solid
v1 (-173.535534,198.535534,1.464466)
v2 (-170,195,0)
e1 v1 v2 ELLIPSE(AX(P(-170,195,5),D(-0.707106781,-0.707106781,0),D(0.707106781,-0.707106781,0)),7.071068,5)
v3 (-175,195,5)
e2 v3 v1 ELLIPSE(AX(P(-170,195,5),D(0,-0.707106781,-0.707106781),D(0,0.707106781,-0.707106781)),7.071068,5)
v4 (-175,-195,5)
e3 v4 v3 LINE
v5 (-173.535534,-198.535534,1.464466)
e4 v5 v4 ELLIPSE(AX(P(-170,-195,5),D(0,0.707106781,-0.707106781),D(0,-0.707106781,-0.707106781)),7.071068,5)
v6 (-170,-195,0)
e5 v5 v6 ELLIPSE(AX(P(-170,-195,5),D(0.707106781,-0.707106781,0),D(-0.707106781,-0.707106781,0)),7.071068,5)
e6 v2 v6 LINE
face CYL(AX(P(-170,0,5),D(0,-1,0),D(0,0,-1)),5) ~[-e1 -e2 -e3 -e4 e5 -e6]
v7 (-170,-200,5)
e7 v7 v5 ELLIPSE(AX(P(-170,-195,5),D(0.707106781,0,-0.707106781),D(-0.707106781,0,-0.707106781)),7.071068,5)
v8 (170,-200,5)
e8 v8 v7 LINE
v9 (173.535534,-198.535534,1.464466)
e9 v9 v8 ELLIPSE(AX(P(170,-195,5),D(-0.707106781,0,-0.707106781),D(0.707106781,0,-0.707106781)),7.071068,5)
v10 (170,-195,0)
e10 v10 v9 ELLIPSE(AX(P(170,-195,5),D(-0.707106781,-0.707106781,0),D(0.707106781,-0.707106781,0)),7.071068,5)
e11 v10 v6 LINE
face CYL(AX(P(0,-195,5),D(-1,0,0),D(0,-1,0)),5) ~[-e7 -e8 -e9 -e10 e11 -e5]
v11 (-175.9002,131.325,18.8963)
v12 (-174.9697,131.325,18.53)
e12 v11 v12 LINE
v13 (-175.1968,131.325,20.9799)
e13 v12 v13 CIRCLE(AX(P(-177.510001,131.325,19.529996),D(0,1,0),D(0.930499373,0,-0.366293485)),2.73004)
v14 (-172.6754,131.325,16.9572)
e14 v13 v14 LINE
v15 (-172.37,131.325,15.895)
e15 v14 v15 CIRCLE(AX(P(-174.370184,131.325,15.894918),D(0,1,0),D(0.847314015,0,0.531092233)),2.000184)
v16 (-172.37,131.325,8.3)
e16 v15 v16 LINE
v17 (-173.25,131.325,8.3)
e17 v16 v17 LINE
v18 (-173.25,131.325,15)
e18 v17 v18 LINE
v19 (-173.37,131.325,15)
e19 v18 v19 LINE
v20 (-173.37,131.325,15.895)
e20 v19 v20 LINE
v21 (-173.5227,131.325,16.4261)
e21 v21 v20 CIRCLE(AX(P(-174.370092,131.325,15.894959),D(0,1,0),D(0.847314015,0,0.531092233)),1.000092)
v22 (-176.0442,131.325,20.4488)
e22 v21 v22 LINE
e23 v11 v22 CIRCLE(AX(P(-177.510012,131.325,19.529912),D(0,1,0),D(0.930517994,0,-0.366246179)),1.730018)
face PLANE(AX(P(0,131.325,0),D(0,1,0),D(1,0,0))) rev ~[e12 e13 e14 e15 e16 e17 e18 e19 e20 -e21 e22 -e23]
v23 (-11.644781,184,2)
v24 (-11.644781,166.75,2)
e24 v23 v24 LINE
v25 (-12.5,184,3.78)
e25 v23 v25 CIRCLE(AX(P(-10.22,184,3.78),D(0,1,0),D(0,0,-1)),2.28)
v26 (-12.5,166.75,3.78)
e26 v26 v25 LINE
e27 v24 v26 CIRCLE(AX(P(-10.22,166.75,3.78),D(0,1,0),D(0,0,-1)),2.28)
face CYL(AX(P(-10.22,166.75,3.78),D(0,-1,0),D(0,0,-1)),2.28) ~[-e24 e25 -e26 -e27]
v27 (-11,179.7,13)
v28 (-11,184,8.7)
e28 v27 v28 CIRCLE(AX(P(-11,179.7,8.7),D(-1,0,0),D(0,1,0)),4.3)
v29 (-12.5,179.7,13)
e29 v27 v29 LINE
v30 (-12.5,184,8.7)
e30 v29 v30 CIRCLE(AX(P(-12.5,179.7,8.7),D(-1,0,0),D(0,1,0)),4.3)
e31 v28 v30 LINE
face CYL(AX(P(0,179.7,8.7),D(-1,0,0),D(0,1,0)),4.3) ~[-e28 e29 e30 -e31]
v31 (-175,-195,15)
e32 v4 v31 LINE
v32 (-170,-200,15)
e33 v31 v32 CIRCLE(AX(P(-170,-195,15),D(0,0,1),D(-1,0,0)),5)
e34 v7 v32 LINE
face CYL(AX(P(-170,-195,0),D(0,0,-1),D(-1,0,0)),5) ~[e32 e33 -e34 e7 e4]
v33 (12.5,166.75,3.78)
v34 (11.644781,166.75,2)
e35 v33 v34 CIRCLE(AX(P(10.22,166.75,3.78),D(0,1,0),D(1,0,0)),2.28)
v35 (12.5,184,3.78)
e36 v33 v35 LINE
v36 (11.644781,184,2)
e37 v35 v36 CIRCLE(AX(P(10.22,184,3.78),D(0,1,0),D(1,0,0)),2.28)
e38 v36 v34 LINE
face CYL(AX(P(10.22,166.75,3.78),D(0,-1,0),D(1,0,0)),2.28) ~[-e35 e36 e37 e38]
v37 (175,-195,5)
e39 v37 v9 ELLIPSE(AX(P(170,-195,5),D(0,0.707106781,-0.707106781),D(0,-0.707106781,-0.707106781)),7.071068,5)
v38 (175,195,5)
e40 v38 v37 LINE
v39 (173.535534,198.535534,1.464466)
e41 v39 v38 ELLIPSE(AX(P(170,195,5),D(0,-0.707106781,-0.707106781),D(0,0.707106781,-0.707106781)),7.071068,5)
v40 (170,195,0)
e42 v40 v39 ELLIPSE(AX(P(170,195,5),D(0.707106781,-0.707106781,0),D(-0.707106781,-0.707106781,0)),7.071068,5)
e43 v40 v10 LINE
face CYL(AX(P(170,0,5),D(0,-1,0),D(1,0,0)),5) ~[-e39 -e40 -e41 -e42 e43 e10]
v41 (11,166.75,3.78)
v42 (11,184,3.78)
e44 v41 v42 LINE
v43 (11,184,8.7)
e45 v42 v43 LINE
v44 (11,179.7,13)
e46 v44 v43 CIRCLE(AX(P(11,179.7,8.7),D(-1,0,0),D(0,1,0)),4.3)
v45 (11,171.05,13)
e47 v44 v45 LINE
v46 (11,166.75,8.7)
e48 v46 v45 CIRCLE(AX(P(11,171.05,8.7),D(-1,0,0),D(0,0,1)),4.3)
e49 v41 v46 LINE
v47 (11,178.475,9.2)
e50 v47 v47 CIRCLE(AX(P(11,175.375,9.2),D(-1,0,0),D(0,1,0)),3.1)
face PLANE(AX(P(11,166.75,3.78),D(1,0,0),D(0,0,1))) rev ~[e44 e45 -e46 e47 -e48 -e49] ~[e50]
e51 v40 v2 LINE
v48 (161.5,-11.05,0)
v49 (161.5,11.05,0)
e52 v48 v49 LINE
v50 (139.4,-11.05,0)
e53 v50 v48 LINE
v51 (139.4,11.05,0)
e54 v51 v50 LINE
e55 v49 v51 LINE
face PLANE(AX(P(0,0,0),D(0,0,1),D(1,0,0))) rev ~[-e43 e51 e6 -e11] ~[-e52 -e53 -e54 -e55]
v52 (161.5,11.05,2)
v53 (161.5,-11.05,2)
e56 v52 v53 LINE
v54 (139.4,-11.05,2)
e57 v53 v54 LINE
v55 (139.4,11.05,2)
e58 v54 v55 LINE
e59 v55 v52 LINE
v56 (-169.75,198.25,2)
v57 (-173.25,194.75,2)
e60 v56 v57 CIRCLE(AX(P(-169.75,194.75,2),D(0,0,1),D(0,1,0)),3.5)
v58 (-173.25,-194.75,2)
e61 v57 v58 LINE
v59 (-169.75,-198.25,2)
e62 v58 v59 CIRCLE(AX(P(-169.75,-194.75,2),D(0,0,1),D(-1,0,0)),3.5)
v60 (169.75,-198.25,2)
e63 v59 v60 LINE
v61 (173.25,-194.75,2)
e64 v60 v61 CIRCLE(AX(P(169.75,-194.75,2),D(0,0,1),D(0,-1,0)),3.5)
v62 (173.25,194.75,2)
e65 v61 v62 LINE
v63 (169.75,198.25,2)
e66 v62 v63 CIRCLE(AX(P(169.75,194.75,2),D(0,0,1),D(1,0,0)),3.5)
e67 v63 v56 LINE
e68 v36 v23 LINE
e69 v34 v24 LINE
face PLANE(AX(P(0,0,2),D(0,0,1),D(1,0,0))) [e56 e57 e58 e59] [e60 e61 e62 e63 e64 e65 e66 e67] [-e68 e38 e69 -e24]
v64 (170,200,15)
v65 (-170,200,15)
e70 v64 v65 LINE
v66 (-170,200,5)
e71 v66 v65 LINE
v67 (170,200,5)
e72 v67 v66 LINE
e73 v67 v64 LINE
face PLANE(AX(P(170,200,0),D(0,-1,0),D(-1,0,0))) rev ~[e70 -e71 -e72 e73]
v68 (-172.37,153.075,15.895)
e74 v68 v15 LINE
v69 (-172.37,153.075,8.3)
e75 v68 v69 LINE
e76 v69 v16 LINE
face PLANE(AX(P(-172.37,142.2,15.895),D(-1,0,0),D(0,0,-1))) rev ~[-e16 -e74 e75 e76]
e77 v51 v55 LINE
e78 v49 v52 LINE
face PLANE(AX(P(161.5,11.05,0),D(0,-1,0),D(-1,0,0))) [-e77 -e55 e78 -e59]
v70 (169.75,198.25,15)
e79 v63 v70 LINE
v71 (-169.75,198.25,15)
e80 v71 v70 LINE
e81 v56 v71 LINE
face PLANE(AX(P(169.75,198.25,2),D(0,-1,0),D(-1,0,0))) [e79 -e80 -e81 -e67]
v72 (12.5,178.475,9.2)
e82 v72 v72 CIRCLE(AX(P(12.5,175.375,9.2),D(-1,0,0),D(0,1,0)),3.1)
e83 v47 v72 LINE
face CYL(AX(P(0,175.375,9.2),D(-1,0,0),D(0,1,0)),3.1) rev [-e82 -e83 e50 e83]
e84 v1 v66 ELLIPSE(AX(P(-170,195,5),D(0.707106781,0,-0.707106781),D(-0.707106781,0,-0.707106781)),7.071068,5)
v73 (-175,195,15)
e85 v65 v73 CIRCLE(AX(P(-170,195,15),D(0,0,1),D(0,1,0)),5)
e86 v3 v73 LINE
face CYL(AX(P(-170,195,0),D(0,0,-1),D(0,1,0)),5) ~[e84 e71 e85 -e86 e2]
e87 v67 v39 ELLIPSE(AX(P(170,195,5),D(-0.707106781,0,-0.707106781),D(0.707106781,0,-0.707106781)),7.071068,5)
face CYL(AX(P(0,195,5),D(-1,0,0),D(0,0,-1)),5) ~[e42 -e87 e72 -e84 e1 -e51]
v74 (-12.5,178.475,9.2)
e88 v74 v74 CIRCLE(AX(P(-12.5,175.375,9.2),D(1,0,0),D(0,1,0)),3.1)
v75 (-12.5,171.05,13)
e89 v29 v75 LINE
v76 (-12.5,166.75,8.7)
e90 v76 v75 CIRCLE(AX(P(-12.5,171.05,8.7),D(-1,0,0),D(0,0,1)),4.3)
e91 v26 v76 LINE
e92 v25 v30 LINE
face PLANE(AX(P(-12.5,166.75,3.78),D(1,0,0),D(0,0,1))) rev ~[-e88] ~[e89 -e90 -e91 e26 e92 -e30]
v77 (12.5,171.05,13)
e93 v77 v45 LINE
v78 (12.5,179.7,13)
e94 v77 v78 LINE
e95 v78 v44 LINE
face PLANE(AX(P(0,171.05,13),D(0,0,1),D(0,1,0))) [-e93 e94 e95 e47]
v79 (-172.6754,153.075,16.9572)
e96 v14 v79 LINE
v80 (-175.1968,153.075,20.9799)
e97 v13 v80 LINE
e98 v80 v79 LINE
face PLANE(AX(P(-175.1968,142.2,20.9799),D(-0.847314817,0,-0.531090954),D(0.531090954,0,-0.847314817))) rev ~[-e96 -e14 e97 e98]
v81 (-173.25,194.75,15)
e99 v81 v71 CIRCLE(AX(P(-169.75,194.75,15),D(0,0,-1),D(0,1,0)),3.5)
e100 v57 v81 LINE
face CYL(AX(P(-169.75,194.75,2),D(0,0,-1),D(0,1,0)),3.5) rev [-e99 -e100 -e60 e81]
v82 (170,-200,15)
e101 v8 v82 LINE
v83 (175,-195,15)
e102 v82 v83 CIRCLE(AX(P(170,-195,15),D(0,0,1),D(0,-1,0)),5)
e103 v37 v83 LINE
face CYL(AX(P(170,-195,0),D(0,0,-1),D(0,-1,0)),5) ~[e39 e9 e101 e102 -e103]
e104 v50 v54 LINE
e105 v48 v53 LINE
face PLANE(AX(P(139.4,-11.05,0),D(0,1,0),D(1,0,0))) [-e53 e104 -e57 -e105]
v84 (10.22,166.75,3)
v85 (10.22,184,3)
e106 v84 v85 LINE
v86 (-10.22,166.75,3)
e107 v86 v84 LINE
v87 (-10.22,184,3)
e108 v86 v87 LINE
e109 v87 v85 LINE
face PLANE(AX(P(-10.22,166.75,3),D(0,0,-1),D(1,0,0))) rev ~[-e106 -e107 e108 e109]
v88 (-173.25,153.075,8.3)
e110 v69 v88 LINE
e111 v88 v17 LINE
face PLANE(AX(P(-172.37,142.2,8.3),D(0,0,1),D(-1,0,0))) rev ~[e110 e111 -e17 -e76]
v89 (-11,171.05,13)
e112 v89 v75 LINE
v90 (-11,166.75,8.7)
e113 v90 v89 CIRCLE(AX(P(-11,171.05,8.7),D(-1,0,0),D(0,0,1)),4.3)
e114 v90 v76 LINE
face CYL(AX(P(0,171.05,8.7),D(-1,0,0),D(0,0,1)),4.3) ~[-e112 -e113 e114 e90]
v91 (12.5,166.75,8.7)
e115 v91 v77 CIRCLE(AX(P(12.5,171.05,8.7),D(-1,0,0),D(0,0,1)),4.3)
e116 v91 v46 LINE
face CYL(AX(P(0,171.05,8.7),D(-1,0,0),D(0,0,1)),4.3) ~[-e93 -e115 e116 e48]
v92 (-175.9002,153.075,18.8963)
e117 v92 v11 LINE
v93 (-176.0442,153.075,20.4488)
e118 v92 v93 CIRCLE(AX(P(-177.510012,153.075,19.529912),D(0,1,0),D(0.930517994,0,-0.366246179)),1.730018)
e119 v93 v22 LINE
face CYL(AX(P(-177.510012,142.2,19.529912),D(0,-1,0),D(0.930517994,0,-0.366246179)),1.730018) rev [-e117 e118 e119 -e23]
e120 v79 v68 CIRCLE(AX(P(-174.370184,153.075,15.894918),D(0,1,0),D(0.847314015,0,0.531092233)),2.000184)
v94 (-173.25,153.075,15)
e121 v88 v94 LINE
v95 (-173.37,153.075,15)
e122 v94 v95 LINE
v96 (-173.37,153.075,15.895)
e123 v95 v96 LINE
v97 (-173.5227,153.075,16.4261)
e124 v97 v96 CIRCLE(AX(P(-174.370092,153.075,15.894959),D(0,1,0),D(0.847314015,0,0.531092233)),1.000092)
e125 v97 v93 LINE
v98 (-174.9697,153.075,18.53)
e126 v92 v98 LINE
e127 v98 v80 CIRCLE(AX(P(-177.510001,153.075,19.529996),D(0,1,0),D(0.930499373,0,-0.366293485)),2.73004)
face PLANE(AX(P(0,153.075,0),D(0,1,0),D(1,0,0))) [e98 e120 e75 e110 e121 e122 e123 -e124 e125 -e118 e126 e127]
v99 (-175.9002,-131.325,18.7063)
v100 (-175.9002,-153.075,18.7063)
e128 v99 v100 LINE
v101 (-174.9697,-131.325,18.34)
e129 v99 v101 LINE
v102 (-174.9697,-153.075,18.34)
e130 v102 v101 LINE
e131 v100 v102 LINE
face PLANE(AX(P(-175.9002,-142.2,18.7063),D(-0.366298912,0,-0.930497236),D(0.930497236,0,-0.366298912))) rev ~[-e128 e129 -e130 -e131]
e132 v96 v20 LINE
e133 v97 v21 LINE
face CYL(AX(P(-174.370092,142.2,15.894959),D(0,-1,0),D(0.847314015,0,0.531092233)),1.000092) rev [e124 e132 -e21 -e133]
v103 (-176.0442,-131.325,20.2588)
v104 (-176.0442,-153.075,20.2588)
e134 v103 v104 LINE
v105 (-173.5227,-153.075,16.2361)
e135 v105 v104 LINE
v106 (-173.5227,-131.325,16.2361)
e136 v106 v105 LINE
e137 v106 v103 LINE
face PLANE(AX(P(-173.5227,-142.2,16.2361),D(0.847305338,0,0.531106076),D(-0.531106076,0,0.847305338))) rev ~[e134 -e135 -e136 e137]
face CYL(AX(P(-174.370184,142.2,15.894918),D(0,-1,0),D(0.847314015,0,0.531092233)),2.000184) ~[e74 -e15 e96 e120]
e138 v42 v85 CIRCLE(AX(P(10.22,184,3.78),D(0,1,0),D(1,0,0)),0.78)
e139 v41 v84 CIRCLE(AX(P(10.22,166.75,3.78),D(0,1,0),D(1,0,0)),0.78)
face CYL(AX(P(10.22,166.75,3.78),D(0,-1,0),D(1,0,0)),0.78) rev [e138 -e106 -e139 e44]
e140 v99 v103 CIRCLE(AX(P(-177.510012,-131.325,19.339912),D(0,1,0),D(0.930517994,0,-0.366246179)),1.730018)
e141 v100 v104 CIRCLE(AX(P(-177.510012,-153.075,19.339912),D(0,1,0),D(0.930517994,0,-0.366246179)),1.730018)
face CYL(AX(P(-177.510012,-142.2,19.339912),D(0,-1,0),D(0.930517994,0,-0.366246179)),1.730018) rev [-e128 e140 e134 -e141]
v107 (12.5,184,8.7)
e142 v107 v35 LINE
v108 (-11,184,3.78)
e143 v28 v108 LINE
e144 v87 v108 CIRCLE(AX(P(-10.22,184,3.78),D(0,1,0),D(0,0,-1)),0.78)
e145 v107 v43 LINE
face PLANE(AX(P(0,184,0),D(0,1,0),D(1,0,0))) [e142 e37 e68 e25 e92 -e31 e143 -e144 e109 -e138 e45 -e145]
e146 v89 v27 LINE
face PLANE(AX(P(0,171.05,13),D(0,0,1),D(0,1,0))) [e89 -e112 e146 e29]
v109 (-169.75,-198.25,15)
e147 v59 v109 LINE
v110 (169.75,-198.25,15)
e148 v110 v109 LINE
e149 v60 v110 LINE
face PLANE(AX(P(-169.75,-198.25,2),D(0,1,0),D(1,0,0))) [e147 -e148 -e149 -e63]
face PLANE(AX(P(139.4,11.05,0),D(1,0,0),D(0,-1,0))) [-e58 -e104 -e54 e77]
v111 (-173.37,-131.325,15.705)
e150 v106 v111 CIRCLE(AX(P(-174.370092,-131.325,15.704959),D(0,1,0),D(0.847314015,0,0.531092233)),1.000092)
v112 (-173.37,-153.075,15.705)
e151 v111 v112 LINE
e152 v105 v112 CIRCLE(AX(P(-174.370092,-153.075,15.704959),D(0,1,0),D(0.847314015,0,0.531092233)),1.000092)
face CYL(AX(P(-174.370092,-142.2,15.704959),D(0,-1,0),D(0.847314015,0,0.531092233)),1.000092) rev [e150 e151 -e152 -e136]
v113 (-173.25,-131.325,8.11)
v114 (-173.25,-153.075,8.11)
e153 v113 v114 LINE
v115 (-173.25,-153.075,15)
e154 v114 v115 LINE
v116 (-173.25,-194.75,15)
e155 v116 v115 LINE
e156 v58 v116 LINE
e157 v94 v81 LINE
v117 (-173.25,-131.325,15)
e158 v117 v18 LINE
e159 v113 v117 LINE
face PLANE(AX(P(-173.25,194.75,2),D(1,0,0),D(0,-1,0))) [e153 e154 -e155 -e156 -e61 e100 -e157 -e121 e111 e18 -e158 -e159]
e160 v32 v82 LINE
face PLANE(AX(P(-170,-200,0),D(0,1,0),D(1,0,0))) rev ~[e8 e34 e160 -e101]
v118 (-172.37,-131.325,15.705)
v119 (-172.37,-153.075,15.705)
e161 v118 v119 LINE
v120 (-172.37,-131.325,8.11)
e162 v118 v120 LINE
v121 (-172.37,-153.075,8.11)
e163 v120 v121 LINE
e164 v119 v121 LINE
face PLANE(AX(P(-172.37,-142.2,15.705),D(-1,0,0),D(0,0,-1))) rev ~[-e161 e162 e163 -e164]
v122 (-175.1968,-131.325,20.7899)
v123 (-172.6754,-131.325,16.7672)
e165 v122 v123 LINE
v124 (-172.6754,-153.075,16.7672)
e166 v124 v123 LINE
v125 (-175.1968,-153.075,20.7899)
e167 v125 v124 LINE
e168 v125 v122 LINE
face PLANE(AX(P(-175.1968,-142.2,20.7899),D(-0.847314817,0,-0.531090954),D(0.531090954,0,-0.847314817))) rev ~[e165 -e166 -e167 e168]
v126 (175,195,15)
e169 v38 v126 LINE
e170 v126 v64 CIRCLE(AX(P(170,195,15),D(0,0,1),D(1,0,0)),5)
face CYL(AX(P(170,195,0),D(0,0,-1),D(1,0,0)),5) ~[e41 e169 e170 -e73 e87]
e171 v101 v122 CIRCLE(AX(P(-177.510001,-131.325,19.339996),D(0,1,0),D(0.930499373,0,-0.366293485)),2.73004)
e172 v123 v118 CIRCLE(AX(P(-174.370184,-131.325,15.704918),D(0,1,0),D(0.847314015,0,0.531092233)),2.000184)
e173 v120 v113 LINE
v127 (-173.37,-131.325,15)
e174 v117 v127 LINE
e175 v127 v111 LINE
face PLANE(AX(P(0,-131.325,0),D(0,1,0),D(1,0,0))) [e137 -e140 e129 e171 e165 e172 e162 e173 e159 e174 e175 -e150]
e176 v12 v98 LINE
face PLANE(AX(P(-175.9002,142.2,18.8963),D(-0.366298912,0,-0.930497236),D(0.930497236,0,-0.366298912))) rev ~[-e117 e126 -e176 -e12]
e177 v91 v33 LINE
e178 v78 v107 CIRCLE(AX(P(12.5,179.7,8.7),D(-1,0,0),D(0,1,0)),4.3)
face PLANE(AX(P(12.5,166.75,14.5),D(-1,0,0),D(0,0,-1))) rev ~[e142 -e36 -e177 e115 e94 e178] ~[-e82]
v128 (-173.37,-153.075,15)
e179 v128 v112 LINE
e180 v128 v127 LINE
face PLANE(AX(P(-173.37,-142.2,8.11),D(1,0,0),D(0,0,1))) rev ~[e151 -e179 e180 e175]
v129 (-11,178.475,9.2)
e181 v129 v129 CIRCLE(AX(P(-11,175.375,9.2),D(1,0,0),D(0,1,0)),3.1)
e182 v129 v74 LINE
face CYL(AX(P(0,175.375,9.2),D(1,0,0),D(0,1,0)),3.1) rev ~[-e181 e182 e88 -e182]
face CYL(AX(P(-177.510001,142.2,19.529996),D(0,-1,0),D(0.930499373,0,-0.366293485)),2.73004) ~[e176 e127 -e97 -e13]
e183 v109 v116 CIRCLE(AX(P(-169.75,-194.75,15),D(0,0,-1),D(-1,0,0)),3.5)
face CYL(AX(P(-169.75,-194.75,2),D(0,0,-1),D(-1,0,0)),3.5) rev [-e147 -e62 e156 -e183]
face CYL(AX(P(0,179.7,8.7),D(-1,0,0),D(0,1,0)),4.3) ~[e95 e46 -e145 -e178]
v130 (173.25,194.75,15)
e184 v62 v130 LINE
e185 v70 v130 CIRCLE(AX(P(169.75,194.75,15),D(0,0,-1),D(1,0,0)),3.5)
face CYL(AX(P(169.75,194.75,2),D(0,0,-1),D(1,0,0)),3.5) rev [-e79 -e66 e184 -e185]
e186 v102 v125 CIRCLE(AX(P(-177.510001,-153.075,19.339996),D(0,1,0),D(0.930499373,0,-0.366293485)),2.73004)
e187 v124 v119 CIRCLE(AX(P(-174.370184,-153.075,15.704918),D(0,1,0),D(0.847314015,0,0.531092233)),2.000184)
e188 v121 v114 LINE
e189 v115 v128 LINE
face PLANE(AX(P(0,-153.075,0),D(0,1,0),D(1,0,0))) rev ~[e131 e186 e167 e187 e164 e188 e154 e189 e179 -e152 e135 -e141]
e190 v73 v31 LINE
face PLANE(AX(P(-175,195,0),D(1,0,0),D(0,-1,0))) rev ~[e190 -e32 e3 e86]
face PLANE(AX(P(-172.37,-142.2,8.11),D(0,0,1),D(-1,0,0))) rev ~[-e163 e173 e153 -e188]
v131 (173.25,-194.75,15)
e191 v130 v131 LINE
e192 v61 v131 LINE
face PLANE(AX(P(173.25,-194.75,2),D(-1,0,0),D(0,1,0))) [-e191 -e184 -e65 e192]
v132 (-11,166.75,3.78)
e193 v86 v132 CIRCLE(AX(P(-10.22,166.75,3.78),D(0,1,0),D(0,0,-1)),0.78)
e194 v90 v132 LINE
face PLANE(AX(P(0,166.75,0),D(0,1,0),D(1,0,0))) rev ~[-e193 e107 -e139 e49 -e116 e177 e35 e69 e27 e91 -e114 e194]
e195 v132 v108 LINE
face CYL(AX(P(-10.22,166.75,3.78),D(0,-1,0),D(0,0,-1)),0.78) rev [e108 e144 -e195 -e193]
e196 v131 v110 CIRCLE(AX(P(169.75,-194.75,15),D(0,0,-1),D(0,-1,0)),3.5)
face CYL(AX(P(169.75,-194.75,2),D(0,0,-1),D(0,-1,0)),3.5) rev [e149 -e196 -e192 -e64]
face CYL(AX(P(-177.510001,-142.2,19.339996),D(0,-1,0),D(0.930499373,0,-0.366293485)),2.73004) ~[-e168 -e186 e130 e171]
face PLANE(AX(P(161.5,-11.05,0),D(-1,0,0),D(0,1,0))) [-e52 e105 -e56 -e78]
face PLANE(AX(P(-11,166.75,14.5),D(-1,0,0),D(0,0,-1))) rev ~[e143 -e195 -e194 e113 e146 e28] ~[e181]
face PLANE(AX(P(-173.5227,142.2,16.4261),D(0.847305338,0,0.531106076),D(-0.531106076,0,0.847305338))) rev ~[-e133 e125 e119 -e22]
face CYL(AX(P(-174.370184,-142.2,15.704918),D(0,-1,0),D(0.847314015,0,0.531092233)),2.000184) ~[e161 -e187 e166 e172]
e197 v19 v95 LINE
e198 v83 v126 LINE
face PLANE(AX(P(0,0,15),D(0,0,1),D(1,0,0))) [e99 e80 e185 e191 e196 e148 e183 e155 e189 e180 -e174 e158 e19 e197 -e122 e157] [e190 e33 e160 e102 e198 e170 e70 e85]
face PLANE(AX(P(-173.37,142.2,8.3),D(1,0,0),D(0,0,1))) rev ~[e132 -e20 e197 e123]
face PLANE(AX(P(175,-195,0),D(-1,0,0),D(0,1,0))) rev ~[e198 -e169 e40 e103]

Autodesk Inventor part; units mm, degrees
sketch "Sketch_2" plane through (0, 0, 0) normal (0, 0, 1) x (1, 0, 0)
  arc A0 (-175, -195) -> (-170, -200) centre (-170, -195) ccw
  line L0 (-170, -200) -> (170, -200)
  arc A1 (170, -200) -> (175, -195) centre (170, -195) ccw
  line L1 (175, -195) -> (175, 195)
  arc A2 (175, 195) -> (170, 200) centre (170, 195) ccw
  line L2 (170, 200) -> (-170, 200)
  arc A3 (-170, 200) -> (-175, 195) centre (-170, 195) ccw
  line L3 (-175, 195) -> (-175, -195)
extrude "Extrusion1" add sketch "Sketch_2" along normal blind 15
sketch "Sketch_3" plane through (0, 0, 0) normal (0, 1, 0) x (-1, 0, 0)
  line L0 (350, -15) -> (350, 30)
  line L1 (350, 30) -> (-350, 30)
  line L2 (-350, 30) -> (-350, -15)
  line L3 (-350, -15) -> (350, -15)
  line L4 (175, 5) -> (175, 15)
  line L5 (175, 15) -> (-175, 15)
  line L6 (-175, 15) -> (-175, 5)
  arc A0 (-175, 5) -> (-170, 0) centre (-170, 5) ccw
  line L7 (-170, 0) -> (170, 0)
  arc A1 (170, 0) -> (175, 5) centre (170, 5) ccw
extrude "Extrusion2" cut sketch "Sketch_3" along normal mid plane 400
sketch "Sketch_4" plane through (0, 0, 0) normal (1, 0, 0) x (0, 1, 0)
  line L0 (400, 30) -> (-400, 30)
  line L1 (-400, 30) -> (-400, -15)
  line L2 (-400, -15) -> (400, -15)
  line L3 (400, -15) -> (400, 30)
  line L4 (200, 15) -> (-200, 15)
  line L5 (-200, 15) -> (-200, 5)
  arc A0 (-200, 5) -> (-195, 0) centre (-195, 5) ccw
  line L6 (-195, 0) -> (195, 0)
  arc A1 (195, 0) -> (200, 5) centre (195, 5) ccw
  line L7 (200, 5) -> (200, 15)
extrude "Extrusion3" cut sketch "Sketch_4" along normal mid plane 350
sketch "Sketch_8" plane through (0, 0, 2) normal (0, 0, 1) x (1, 0, 0)
  arc A0 (-173.25, -194.75) -> (-169.75, -198.25) centre (-169.75, -194.75) ccw
  line L0 (-169.75, -198.25) -> (169.75, -198.25)
  arc A1 (169.75, -198.25) -> (173.25, -194.75) centre (169.75, -194.75) ccw
  line L1 (173.25, -194.75) -> (173.25, 194.75)
  arc A2 (173.25, 194.75) -> (169.75, 198.25) centre (169.75, 194.75) ccw
  line L2 (169.75, 198.25) -> (-169.75, 198.25)
  arc A3 (-169.75, 198.25) -> (-173.25, 194.75) centre (-169.75, 194.75) ccw
  line L3 (-173.25, 194.75) -> (-173.25, -194.75)
extrude "Extrusion4" cut sketch "Sketch_8" along normal blind 15.5
sketch "Sketch_6" plane through (0, 0, 0) normal (0, 0, 1) x (1, 0, 0)
  line L0 (139.4, 11.05) -> (139.4, -11.05)
  line L1 (139.4, -11.05) -> (161.5, -11.05)
  line L2 (161.5, -11.05) -> (161.5, 11.05)
  line L3 (161.5, 11.05) -> (139.4, 11.05)
extrude "Extrusion5" cut sketch "Sketch_6" along normal blind 3
sketch "Sketch_9" plane through (0, 166.75, 0) normal (0, 1, 0) x (1, 0, 0)
  line L0 (-12.5, -3.78) -> (-12.5, -14.5)
  line L1 (-12.5, -14.5) -> (-11, -14.5)
  line L2 (-11, -14.5) -> (-11, -3.78)
  arc A0 (-10.22, -3) -> (-11, -3.78) centre (-10.22, -3.78) ccw
  line L3 (-10.22, -3) -> (10.22, -3)
  arc A1 (11, -3.78) -> (10.22, -3) centre (10.22, -3.78) ccw
  line L4 (11, -3.78) -> (11, -14.5)
  line L5 (11, -14.5) -> (12.5, -14.5)
  line L6 (12.5, -14.5) -> (12.5, -3.78)
  arc A2 (12.5, -3.78) -> (10.22, -1.5) centre (10.22, -3.78) ccw
  line L7 (10.22, -1.5) -> (-10.22, -1.5)
  arc A3 (-10.22, -1.5) -> (-12.5, -3.78) centre (-10.22, -3.78) ccw
extrude "Extrusion6" add sketch "Sketch_9" along normal blind 17.25
sketch "Sketch_10" plane through (0, 0, 0) normal (1, 0, 0) x (0, 1, 0)
  line L0 (188.375, 20.7) -> (162.375, 20.7)
  line L1 (162.375, 20.7) -> (162.375, 8.7)
  line L2 (162.375, 8.7) -> (166.75, 8.7)
  arc A0 (171.05, 13) -> (166.75, 8.7) centre (171.05, 8.7) ccw
  line L3 (171.05, 13) -> (179.7, 13)
  arc A1 (184, 8.7) -> (179.7, 13) centre (179.7, 8.7) ccw
  line L4 (184, 8.7) -> (188.375, 8.7)
  line L5 (188.375, 8.7) -> (188.375, 20.7)
extrude "Extrusion7" cut sketch "Sketch_10" along normal mid plane 30
sketch "Sketch_11" plane through (0, 0, 0) normal (1, 0, 0) x (0, 1, 0)
  circle A0 centre (175.375, 9.2) radius 3.1
extrude "Extrusion8" cut sketch "Sketch_11" along normal mid plane 30
sketch "Sketch_12" plane through (0, 142.2, 0) normal (0, 1, 0) x (1, 0, 0)
  arc A0 (-174.9697, -18.53) -> (-175.1968, -20.9799) centre (-177.51, -19.53) ccw
  line L0 (-175.1968, -20.9799) -> (-172.6754, -16.9572)
  arc A1 (-172.6754, -16.9572) -> (-172.37, -15.895) centre (-174.37, -15.895) ccw
  line L1 (-172.37, -15.895) -> (-172.37, -8.3)
  line L2 (-172.37, -8.3) -> (-173.37, -8.3)
  line L3 (-173.37, -8.3) -> (-173.37, -15.895)
  arc A2 (-173.5227, -16.4261) -> (-173.37, -15.895) centre (-174.37, -15.895) ccw
  line L4 (-173.5227, -16.4261) -> (-176.0442, -20.4488)
  arc A3 (-175.9002, -18.8963) -> (-176.0442, -20.4488) centre (-177.51, -19.53) ccw
  line L5 (-175.9002, -18.8963) -> (-174.9697, -18.53)
extrude "Extrusion9" add sketch "Sketch_12" along normal mid plane 21.75
sketch "Sketch_7" plane through (0, -142.2, 0) normal (0, 1, 0) x (1, 0, 0)
  arc A0 (-174.9697, -18.34) -> (-175.1968, -20.7899) centre (-177.51, -19.34) ccw
  line L0 (-175.1968, -20.7899) -> (-172.6754, -16.7672)
  arc A1 (-172.6754, -16.7672) -> (-172.37, -15.705) centre (-174.37, -15.705) ccw
  line L1 (-172.37, -15.705) -> (-172.37, -8.11)
  line L2 (-172.37, -8.11) -> (-173.37, -8.11)
  line L3 (-173.37, -8.11) -> (-173.37, -15.705)
  arc A2 (-173.5227, -16.2361) -> (-173.37, -15.705) centre (-174.37, -15.705) ccw
  line L4 (-173.5227, -16.2361) -> (-176.0442, -20.2588)
  arc A3 (-175.9002, -18.7063) -> (-176.0442, -20.2588) centre (-177.51, -19.34) ccw
  line L5 (-175.9002, -18.7063) -> (-174.9697, -18.34)
extrude "Extrusion10" add sketch "Sketch_7" along normal mid plane 21.75
ref_plane "door_to_hinge_XY" through (-177.51, 142.2, 19.53) normal (0, 1, 0) x (1, 0, 0)
ref_plane "door_to_hinge_YZ" through (-177.51, 142.2, 19.53) normal (1, 0, 0) x (0, 0, -1)
ref_plane "door_to_hinge_ZX" through (-177.51, 142.2, 19.53) normal (0, 0, -1) x (0, 1, 0)
ref_plane "lock_XY" through (152.45, 0, -7) normal (0, 0, 1) x (1, 0, 0)
ref_plane "lock_YZ" through (152.45, 0, -7) normal (1, 0, 0) x (0, 1, 0)
ref_plane "lock_ZX" through (152.45, 0, -7) normal (0, 1, 0) x (0, 0, 1)
properties part number "jJBDOOR161410HC1"
